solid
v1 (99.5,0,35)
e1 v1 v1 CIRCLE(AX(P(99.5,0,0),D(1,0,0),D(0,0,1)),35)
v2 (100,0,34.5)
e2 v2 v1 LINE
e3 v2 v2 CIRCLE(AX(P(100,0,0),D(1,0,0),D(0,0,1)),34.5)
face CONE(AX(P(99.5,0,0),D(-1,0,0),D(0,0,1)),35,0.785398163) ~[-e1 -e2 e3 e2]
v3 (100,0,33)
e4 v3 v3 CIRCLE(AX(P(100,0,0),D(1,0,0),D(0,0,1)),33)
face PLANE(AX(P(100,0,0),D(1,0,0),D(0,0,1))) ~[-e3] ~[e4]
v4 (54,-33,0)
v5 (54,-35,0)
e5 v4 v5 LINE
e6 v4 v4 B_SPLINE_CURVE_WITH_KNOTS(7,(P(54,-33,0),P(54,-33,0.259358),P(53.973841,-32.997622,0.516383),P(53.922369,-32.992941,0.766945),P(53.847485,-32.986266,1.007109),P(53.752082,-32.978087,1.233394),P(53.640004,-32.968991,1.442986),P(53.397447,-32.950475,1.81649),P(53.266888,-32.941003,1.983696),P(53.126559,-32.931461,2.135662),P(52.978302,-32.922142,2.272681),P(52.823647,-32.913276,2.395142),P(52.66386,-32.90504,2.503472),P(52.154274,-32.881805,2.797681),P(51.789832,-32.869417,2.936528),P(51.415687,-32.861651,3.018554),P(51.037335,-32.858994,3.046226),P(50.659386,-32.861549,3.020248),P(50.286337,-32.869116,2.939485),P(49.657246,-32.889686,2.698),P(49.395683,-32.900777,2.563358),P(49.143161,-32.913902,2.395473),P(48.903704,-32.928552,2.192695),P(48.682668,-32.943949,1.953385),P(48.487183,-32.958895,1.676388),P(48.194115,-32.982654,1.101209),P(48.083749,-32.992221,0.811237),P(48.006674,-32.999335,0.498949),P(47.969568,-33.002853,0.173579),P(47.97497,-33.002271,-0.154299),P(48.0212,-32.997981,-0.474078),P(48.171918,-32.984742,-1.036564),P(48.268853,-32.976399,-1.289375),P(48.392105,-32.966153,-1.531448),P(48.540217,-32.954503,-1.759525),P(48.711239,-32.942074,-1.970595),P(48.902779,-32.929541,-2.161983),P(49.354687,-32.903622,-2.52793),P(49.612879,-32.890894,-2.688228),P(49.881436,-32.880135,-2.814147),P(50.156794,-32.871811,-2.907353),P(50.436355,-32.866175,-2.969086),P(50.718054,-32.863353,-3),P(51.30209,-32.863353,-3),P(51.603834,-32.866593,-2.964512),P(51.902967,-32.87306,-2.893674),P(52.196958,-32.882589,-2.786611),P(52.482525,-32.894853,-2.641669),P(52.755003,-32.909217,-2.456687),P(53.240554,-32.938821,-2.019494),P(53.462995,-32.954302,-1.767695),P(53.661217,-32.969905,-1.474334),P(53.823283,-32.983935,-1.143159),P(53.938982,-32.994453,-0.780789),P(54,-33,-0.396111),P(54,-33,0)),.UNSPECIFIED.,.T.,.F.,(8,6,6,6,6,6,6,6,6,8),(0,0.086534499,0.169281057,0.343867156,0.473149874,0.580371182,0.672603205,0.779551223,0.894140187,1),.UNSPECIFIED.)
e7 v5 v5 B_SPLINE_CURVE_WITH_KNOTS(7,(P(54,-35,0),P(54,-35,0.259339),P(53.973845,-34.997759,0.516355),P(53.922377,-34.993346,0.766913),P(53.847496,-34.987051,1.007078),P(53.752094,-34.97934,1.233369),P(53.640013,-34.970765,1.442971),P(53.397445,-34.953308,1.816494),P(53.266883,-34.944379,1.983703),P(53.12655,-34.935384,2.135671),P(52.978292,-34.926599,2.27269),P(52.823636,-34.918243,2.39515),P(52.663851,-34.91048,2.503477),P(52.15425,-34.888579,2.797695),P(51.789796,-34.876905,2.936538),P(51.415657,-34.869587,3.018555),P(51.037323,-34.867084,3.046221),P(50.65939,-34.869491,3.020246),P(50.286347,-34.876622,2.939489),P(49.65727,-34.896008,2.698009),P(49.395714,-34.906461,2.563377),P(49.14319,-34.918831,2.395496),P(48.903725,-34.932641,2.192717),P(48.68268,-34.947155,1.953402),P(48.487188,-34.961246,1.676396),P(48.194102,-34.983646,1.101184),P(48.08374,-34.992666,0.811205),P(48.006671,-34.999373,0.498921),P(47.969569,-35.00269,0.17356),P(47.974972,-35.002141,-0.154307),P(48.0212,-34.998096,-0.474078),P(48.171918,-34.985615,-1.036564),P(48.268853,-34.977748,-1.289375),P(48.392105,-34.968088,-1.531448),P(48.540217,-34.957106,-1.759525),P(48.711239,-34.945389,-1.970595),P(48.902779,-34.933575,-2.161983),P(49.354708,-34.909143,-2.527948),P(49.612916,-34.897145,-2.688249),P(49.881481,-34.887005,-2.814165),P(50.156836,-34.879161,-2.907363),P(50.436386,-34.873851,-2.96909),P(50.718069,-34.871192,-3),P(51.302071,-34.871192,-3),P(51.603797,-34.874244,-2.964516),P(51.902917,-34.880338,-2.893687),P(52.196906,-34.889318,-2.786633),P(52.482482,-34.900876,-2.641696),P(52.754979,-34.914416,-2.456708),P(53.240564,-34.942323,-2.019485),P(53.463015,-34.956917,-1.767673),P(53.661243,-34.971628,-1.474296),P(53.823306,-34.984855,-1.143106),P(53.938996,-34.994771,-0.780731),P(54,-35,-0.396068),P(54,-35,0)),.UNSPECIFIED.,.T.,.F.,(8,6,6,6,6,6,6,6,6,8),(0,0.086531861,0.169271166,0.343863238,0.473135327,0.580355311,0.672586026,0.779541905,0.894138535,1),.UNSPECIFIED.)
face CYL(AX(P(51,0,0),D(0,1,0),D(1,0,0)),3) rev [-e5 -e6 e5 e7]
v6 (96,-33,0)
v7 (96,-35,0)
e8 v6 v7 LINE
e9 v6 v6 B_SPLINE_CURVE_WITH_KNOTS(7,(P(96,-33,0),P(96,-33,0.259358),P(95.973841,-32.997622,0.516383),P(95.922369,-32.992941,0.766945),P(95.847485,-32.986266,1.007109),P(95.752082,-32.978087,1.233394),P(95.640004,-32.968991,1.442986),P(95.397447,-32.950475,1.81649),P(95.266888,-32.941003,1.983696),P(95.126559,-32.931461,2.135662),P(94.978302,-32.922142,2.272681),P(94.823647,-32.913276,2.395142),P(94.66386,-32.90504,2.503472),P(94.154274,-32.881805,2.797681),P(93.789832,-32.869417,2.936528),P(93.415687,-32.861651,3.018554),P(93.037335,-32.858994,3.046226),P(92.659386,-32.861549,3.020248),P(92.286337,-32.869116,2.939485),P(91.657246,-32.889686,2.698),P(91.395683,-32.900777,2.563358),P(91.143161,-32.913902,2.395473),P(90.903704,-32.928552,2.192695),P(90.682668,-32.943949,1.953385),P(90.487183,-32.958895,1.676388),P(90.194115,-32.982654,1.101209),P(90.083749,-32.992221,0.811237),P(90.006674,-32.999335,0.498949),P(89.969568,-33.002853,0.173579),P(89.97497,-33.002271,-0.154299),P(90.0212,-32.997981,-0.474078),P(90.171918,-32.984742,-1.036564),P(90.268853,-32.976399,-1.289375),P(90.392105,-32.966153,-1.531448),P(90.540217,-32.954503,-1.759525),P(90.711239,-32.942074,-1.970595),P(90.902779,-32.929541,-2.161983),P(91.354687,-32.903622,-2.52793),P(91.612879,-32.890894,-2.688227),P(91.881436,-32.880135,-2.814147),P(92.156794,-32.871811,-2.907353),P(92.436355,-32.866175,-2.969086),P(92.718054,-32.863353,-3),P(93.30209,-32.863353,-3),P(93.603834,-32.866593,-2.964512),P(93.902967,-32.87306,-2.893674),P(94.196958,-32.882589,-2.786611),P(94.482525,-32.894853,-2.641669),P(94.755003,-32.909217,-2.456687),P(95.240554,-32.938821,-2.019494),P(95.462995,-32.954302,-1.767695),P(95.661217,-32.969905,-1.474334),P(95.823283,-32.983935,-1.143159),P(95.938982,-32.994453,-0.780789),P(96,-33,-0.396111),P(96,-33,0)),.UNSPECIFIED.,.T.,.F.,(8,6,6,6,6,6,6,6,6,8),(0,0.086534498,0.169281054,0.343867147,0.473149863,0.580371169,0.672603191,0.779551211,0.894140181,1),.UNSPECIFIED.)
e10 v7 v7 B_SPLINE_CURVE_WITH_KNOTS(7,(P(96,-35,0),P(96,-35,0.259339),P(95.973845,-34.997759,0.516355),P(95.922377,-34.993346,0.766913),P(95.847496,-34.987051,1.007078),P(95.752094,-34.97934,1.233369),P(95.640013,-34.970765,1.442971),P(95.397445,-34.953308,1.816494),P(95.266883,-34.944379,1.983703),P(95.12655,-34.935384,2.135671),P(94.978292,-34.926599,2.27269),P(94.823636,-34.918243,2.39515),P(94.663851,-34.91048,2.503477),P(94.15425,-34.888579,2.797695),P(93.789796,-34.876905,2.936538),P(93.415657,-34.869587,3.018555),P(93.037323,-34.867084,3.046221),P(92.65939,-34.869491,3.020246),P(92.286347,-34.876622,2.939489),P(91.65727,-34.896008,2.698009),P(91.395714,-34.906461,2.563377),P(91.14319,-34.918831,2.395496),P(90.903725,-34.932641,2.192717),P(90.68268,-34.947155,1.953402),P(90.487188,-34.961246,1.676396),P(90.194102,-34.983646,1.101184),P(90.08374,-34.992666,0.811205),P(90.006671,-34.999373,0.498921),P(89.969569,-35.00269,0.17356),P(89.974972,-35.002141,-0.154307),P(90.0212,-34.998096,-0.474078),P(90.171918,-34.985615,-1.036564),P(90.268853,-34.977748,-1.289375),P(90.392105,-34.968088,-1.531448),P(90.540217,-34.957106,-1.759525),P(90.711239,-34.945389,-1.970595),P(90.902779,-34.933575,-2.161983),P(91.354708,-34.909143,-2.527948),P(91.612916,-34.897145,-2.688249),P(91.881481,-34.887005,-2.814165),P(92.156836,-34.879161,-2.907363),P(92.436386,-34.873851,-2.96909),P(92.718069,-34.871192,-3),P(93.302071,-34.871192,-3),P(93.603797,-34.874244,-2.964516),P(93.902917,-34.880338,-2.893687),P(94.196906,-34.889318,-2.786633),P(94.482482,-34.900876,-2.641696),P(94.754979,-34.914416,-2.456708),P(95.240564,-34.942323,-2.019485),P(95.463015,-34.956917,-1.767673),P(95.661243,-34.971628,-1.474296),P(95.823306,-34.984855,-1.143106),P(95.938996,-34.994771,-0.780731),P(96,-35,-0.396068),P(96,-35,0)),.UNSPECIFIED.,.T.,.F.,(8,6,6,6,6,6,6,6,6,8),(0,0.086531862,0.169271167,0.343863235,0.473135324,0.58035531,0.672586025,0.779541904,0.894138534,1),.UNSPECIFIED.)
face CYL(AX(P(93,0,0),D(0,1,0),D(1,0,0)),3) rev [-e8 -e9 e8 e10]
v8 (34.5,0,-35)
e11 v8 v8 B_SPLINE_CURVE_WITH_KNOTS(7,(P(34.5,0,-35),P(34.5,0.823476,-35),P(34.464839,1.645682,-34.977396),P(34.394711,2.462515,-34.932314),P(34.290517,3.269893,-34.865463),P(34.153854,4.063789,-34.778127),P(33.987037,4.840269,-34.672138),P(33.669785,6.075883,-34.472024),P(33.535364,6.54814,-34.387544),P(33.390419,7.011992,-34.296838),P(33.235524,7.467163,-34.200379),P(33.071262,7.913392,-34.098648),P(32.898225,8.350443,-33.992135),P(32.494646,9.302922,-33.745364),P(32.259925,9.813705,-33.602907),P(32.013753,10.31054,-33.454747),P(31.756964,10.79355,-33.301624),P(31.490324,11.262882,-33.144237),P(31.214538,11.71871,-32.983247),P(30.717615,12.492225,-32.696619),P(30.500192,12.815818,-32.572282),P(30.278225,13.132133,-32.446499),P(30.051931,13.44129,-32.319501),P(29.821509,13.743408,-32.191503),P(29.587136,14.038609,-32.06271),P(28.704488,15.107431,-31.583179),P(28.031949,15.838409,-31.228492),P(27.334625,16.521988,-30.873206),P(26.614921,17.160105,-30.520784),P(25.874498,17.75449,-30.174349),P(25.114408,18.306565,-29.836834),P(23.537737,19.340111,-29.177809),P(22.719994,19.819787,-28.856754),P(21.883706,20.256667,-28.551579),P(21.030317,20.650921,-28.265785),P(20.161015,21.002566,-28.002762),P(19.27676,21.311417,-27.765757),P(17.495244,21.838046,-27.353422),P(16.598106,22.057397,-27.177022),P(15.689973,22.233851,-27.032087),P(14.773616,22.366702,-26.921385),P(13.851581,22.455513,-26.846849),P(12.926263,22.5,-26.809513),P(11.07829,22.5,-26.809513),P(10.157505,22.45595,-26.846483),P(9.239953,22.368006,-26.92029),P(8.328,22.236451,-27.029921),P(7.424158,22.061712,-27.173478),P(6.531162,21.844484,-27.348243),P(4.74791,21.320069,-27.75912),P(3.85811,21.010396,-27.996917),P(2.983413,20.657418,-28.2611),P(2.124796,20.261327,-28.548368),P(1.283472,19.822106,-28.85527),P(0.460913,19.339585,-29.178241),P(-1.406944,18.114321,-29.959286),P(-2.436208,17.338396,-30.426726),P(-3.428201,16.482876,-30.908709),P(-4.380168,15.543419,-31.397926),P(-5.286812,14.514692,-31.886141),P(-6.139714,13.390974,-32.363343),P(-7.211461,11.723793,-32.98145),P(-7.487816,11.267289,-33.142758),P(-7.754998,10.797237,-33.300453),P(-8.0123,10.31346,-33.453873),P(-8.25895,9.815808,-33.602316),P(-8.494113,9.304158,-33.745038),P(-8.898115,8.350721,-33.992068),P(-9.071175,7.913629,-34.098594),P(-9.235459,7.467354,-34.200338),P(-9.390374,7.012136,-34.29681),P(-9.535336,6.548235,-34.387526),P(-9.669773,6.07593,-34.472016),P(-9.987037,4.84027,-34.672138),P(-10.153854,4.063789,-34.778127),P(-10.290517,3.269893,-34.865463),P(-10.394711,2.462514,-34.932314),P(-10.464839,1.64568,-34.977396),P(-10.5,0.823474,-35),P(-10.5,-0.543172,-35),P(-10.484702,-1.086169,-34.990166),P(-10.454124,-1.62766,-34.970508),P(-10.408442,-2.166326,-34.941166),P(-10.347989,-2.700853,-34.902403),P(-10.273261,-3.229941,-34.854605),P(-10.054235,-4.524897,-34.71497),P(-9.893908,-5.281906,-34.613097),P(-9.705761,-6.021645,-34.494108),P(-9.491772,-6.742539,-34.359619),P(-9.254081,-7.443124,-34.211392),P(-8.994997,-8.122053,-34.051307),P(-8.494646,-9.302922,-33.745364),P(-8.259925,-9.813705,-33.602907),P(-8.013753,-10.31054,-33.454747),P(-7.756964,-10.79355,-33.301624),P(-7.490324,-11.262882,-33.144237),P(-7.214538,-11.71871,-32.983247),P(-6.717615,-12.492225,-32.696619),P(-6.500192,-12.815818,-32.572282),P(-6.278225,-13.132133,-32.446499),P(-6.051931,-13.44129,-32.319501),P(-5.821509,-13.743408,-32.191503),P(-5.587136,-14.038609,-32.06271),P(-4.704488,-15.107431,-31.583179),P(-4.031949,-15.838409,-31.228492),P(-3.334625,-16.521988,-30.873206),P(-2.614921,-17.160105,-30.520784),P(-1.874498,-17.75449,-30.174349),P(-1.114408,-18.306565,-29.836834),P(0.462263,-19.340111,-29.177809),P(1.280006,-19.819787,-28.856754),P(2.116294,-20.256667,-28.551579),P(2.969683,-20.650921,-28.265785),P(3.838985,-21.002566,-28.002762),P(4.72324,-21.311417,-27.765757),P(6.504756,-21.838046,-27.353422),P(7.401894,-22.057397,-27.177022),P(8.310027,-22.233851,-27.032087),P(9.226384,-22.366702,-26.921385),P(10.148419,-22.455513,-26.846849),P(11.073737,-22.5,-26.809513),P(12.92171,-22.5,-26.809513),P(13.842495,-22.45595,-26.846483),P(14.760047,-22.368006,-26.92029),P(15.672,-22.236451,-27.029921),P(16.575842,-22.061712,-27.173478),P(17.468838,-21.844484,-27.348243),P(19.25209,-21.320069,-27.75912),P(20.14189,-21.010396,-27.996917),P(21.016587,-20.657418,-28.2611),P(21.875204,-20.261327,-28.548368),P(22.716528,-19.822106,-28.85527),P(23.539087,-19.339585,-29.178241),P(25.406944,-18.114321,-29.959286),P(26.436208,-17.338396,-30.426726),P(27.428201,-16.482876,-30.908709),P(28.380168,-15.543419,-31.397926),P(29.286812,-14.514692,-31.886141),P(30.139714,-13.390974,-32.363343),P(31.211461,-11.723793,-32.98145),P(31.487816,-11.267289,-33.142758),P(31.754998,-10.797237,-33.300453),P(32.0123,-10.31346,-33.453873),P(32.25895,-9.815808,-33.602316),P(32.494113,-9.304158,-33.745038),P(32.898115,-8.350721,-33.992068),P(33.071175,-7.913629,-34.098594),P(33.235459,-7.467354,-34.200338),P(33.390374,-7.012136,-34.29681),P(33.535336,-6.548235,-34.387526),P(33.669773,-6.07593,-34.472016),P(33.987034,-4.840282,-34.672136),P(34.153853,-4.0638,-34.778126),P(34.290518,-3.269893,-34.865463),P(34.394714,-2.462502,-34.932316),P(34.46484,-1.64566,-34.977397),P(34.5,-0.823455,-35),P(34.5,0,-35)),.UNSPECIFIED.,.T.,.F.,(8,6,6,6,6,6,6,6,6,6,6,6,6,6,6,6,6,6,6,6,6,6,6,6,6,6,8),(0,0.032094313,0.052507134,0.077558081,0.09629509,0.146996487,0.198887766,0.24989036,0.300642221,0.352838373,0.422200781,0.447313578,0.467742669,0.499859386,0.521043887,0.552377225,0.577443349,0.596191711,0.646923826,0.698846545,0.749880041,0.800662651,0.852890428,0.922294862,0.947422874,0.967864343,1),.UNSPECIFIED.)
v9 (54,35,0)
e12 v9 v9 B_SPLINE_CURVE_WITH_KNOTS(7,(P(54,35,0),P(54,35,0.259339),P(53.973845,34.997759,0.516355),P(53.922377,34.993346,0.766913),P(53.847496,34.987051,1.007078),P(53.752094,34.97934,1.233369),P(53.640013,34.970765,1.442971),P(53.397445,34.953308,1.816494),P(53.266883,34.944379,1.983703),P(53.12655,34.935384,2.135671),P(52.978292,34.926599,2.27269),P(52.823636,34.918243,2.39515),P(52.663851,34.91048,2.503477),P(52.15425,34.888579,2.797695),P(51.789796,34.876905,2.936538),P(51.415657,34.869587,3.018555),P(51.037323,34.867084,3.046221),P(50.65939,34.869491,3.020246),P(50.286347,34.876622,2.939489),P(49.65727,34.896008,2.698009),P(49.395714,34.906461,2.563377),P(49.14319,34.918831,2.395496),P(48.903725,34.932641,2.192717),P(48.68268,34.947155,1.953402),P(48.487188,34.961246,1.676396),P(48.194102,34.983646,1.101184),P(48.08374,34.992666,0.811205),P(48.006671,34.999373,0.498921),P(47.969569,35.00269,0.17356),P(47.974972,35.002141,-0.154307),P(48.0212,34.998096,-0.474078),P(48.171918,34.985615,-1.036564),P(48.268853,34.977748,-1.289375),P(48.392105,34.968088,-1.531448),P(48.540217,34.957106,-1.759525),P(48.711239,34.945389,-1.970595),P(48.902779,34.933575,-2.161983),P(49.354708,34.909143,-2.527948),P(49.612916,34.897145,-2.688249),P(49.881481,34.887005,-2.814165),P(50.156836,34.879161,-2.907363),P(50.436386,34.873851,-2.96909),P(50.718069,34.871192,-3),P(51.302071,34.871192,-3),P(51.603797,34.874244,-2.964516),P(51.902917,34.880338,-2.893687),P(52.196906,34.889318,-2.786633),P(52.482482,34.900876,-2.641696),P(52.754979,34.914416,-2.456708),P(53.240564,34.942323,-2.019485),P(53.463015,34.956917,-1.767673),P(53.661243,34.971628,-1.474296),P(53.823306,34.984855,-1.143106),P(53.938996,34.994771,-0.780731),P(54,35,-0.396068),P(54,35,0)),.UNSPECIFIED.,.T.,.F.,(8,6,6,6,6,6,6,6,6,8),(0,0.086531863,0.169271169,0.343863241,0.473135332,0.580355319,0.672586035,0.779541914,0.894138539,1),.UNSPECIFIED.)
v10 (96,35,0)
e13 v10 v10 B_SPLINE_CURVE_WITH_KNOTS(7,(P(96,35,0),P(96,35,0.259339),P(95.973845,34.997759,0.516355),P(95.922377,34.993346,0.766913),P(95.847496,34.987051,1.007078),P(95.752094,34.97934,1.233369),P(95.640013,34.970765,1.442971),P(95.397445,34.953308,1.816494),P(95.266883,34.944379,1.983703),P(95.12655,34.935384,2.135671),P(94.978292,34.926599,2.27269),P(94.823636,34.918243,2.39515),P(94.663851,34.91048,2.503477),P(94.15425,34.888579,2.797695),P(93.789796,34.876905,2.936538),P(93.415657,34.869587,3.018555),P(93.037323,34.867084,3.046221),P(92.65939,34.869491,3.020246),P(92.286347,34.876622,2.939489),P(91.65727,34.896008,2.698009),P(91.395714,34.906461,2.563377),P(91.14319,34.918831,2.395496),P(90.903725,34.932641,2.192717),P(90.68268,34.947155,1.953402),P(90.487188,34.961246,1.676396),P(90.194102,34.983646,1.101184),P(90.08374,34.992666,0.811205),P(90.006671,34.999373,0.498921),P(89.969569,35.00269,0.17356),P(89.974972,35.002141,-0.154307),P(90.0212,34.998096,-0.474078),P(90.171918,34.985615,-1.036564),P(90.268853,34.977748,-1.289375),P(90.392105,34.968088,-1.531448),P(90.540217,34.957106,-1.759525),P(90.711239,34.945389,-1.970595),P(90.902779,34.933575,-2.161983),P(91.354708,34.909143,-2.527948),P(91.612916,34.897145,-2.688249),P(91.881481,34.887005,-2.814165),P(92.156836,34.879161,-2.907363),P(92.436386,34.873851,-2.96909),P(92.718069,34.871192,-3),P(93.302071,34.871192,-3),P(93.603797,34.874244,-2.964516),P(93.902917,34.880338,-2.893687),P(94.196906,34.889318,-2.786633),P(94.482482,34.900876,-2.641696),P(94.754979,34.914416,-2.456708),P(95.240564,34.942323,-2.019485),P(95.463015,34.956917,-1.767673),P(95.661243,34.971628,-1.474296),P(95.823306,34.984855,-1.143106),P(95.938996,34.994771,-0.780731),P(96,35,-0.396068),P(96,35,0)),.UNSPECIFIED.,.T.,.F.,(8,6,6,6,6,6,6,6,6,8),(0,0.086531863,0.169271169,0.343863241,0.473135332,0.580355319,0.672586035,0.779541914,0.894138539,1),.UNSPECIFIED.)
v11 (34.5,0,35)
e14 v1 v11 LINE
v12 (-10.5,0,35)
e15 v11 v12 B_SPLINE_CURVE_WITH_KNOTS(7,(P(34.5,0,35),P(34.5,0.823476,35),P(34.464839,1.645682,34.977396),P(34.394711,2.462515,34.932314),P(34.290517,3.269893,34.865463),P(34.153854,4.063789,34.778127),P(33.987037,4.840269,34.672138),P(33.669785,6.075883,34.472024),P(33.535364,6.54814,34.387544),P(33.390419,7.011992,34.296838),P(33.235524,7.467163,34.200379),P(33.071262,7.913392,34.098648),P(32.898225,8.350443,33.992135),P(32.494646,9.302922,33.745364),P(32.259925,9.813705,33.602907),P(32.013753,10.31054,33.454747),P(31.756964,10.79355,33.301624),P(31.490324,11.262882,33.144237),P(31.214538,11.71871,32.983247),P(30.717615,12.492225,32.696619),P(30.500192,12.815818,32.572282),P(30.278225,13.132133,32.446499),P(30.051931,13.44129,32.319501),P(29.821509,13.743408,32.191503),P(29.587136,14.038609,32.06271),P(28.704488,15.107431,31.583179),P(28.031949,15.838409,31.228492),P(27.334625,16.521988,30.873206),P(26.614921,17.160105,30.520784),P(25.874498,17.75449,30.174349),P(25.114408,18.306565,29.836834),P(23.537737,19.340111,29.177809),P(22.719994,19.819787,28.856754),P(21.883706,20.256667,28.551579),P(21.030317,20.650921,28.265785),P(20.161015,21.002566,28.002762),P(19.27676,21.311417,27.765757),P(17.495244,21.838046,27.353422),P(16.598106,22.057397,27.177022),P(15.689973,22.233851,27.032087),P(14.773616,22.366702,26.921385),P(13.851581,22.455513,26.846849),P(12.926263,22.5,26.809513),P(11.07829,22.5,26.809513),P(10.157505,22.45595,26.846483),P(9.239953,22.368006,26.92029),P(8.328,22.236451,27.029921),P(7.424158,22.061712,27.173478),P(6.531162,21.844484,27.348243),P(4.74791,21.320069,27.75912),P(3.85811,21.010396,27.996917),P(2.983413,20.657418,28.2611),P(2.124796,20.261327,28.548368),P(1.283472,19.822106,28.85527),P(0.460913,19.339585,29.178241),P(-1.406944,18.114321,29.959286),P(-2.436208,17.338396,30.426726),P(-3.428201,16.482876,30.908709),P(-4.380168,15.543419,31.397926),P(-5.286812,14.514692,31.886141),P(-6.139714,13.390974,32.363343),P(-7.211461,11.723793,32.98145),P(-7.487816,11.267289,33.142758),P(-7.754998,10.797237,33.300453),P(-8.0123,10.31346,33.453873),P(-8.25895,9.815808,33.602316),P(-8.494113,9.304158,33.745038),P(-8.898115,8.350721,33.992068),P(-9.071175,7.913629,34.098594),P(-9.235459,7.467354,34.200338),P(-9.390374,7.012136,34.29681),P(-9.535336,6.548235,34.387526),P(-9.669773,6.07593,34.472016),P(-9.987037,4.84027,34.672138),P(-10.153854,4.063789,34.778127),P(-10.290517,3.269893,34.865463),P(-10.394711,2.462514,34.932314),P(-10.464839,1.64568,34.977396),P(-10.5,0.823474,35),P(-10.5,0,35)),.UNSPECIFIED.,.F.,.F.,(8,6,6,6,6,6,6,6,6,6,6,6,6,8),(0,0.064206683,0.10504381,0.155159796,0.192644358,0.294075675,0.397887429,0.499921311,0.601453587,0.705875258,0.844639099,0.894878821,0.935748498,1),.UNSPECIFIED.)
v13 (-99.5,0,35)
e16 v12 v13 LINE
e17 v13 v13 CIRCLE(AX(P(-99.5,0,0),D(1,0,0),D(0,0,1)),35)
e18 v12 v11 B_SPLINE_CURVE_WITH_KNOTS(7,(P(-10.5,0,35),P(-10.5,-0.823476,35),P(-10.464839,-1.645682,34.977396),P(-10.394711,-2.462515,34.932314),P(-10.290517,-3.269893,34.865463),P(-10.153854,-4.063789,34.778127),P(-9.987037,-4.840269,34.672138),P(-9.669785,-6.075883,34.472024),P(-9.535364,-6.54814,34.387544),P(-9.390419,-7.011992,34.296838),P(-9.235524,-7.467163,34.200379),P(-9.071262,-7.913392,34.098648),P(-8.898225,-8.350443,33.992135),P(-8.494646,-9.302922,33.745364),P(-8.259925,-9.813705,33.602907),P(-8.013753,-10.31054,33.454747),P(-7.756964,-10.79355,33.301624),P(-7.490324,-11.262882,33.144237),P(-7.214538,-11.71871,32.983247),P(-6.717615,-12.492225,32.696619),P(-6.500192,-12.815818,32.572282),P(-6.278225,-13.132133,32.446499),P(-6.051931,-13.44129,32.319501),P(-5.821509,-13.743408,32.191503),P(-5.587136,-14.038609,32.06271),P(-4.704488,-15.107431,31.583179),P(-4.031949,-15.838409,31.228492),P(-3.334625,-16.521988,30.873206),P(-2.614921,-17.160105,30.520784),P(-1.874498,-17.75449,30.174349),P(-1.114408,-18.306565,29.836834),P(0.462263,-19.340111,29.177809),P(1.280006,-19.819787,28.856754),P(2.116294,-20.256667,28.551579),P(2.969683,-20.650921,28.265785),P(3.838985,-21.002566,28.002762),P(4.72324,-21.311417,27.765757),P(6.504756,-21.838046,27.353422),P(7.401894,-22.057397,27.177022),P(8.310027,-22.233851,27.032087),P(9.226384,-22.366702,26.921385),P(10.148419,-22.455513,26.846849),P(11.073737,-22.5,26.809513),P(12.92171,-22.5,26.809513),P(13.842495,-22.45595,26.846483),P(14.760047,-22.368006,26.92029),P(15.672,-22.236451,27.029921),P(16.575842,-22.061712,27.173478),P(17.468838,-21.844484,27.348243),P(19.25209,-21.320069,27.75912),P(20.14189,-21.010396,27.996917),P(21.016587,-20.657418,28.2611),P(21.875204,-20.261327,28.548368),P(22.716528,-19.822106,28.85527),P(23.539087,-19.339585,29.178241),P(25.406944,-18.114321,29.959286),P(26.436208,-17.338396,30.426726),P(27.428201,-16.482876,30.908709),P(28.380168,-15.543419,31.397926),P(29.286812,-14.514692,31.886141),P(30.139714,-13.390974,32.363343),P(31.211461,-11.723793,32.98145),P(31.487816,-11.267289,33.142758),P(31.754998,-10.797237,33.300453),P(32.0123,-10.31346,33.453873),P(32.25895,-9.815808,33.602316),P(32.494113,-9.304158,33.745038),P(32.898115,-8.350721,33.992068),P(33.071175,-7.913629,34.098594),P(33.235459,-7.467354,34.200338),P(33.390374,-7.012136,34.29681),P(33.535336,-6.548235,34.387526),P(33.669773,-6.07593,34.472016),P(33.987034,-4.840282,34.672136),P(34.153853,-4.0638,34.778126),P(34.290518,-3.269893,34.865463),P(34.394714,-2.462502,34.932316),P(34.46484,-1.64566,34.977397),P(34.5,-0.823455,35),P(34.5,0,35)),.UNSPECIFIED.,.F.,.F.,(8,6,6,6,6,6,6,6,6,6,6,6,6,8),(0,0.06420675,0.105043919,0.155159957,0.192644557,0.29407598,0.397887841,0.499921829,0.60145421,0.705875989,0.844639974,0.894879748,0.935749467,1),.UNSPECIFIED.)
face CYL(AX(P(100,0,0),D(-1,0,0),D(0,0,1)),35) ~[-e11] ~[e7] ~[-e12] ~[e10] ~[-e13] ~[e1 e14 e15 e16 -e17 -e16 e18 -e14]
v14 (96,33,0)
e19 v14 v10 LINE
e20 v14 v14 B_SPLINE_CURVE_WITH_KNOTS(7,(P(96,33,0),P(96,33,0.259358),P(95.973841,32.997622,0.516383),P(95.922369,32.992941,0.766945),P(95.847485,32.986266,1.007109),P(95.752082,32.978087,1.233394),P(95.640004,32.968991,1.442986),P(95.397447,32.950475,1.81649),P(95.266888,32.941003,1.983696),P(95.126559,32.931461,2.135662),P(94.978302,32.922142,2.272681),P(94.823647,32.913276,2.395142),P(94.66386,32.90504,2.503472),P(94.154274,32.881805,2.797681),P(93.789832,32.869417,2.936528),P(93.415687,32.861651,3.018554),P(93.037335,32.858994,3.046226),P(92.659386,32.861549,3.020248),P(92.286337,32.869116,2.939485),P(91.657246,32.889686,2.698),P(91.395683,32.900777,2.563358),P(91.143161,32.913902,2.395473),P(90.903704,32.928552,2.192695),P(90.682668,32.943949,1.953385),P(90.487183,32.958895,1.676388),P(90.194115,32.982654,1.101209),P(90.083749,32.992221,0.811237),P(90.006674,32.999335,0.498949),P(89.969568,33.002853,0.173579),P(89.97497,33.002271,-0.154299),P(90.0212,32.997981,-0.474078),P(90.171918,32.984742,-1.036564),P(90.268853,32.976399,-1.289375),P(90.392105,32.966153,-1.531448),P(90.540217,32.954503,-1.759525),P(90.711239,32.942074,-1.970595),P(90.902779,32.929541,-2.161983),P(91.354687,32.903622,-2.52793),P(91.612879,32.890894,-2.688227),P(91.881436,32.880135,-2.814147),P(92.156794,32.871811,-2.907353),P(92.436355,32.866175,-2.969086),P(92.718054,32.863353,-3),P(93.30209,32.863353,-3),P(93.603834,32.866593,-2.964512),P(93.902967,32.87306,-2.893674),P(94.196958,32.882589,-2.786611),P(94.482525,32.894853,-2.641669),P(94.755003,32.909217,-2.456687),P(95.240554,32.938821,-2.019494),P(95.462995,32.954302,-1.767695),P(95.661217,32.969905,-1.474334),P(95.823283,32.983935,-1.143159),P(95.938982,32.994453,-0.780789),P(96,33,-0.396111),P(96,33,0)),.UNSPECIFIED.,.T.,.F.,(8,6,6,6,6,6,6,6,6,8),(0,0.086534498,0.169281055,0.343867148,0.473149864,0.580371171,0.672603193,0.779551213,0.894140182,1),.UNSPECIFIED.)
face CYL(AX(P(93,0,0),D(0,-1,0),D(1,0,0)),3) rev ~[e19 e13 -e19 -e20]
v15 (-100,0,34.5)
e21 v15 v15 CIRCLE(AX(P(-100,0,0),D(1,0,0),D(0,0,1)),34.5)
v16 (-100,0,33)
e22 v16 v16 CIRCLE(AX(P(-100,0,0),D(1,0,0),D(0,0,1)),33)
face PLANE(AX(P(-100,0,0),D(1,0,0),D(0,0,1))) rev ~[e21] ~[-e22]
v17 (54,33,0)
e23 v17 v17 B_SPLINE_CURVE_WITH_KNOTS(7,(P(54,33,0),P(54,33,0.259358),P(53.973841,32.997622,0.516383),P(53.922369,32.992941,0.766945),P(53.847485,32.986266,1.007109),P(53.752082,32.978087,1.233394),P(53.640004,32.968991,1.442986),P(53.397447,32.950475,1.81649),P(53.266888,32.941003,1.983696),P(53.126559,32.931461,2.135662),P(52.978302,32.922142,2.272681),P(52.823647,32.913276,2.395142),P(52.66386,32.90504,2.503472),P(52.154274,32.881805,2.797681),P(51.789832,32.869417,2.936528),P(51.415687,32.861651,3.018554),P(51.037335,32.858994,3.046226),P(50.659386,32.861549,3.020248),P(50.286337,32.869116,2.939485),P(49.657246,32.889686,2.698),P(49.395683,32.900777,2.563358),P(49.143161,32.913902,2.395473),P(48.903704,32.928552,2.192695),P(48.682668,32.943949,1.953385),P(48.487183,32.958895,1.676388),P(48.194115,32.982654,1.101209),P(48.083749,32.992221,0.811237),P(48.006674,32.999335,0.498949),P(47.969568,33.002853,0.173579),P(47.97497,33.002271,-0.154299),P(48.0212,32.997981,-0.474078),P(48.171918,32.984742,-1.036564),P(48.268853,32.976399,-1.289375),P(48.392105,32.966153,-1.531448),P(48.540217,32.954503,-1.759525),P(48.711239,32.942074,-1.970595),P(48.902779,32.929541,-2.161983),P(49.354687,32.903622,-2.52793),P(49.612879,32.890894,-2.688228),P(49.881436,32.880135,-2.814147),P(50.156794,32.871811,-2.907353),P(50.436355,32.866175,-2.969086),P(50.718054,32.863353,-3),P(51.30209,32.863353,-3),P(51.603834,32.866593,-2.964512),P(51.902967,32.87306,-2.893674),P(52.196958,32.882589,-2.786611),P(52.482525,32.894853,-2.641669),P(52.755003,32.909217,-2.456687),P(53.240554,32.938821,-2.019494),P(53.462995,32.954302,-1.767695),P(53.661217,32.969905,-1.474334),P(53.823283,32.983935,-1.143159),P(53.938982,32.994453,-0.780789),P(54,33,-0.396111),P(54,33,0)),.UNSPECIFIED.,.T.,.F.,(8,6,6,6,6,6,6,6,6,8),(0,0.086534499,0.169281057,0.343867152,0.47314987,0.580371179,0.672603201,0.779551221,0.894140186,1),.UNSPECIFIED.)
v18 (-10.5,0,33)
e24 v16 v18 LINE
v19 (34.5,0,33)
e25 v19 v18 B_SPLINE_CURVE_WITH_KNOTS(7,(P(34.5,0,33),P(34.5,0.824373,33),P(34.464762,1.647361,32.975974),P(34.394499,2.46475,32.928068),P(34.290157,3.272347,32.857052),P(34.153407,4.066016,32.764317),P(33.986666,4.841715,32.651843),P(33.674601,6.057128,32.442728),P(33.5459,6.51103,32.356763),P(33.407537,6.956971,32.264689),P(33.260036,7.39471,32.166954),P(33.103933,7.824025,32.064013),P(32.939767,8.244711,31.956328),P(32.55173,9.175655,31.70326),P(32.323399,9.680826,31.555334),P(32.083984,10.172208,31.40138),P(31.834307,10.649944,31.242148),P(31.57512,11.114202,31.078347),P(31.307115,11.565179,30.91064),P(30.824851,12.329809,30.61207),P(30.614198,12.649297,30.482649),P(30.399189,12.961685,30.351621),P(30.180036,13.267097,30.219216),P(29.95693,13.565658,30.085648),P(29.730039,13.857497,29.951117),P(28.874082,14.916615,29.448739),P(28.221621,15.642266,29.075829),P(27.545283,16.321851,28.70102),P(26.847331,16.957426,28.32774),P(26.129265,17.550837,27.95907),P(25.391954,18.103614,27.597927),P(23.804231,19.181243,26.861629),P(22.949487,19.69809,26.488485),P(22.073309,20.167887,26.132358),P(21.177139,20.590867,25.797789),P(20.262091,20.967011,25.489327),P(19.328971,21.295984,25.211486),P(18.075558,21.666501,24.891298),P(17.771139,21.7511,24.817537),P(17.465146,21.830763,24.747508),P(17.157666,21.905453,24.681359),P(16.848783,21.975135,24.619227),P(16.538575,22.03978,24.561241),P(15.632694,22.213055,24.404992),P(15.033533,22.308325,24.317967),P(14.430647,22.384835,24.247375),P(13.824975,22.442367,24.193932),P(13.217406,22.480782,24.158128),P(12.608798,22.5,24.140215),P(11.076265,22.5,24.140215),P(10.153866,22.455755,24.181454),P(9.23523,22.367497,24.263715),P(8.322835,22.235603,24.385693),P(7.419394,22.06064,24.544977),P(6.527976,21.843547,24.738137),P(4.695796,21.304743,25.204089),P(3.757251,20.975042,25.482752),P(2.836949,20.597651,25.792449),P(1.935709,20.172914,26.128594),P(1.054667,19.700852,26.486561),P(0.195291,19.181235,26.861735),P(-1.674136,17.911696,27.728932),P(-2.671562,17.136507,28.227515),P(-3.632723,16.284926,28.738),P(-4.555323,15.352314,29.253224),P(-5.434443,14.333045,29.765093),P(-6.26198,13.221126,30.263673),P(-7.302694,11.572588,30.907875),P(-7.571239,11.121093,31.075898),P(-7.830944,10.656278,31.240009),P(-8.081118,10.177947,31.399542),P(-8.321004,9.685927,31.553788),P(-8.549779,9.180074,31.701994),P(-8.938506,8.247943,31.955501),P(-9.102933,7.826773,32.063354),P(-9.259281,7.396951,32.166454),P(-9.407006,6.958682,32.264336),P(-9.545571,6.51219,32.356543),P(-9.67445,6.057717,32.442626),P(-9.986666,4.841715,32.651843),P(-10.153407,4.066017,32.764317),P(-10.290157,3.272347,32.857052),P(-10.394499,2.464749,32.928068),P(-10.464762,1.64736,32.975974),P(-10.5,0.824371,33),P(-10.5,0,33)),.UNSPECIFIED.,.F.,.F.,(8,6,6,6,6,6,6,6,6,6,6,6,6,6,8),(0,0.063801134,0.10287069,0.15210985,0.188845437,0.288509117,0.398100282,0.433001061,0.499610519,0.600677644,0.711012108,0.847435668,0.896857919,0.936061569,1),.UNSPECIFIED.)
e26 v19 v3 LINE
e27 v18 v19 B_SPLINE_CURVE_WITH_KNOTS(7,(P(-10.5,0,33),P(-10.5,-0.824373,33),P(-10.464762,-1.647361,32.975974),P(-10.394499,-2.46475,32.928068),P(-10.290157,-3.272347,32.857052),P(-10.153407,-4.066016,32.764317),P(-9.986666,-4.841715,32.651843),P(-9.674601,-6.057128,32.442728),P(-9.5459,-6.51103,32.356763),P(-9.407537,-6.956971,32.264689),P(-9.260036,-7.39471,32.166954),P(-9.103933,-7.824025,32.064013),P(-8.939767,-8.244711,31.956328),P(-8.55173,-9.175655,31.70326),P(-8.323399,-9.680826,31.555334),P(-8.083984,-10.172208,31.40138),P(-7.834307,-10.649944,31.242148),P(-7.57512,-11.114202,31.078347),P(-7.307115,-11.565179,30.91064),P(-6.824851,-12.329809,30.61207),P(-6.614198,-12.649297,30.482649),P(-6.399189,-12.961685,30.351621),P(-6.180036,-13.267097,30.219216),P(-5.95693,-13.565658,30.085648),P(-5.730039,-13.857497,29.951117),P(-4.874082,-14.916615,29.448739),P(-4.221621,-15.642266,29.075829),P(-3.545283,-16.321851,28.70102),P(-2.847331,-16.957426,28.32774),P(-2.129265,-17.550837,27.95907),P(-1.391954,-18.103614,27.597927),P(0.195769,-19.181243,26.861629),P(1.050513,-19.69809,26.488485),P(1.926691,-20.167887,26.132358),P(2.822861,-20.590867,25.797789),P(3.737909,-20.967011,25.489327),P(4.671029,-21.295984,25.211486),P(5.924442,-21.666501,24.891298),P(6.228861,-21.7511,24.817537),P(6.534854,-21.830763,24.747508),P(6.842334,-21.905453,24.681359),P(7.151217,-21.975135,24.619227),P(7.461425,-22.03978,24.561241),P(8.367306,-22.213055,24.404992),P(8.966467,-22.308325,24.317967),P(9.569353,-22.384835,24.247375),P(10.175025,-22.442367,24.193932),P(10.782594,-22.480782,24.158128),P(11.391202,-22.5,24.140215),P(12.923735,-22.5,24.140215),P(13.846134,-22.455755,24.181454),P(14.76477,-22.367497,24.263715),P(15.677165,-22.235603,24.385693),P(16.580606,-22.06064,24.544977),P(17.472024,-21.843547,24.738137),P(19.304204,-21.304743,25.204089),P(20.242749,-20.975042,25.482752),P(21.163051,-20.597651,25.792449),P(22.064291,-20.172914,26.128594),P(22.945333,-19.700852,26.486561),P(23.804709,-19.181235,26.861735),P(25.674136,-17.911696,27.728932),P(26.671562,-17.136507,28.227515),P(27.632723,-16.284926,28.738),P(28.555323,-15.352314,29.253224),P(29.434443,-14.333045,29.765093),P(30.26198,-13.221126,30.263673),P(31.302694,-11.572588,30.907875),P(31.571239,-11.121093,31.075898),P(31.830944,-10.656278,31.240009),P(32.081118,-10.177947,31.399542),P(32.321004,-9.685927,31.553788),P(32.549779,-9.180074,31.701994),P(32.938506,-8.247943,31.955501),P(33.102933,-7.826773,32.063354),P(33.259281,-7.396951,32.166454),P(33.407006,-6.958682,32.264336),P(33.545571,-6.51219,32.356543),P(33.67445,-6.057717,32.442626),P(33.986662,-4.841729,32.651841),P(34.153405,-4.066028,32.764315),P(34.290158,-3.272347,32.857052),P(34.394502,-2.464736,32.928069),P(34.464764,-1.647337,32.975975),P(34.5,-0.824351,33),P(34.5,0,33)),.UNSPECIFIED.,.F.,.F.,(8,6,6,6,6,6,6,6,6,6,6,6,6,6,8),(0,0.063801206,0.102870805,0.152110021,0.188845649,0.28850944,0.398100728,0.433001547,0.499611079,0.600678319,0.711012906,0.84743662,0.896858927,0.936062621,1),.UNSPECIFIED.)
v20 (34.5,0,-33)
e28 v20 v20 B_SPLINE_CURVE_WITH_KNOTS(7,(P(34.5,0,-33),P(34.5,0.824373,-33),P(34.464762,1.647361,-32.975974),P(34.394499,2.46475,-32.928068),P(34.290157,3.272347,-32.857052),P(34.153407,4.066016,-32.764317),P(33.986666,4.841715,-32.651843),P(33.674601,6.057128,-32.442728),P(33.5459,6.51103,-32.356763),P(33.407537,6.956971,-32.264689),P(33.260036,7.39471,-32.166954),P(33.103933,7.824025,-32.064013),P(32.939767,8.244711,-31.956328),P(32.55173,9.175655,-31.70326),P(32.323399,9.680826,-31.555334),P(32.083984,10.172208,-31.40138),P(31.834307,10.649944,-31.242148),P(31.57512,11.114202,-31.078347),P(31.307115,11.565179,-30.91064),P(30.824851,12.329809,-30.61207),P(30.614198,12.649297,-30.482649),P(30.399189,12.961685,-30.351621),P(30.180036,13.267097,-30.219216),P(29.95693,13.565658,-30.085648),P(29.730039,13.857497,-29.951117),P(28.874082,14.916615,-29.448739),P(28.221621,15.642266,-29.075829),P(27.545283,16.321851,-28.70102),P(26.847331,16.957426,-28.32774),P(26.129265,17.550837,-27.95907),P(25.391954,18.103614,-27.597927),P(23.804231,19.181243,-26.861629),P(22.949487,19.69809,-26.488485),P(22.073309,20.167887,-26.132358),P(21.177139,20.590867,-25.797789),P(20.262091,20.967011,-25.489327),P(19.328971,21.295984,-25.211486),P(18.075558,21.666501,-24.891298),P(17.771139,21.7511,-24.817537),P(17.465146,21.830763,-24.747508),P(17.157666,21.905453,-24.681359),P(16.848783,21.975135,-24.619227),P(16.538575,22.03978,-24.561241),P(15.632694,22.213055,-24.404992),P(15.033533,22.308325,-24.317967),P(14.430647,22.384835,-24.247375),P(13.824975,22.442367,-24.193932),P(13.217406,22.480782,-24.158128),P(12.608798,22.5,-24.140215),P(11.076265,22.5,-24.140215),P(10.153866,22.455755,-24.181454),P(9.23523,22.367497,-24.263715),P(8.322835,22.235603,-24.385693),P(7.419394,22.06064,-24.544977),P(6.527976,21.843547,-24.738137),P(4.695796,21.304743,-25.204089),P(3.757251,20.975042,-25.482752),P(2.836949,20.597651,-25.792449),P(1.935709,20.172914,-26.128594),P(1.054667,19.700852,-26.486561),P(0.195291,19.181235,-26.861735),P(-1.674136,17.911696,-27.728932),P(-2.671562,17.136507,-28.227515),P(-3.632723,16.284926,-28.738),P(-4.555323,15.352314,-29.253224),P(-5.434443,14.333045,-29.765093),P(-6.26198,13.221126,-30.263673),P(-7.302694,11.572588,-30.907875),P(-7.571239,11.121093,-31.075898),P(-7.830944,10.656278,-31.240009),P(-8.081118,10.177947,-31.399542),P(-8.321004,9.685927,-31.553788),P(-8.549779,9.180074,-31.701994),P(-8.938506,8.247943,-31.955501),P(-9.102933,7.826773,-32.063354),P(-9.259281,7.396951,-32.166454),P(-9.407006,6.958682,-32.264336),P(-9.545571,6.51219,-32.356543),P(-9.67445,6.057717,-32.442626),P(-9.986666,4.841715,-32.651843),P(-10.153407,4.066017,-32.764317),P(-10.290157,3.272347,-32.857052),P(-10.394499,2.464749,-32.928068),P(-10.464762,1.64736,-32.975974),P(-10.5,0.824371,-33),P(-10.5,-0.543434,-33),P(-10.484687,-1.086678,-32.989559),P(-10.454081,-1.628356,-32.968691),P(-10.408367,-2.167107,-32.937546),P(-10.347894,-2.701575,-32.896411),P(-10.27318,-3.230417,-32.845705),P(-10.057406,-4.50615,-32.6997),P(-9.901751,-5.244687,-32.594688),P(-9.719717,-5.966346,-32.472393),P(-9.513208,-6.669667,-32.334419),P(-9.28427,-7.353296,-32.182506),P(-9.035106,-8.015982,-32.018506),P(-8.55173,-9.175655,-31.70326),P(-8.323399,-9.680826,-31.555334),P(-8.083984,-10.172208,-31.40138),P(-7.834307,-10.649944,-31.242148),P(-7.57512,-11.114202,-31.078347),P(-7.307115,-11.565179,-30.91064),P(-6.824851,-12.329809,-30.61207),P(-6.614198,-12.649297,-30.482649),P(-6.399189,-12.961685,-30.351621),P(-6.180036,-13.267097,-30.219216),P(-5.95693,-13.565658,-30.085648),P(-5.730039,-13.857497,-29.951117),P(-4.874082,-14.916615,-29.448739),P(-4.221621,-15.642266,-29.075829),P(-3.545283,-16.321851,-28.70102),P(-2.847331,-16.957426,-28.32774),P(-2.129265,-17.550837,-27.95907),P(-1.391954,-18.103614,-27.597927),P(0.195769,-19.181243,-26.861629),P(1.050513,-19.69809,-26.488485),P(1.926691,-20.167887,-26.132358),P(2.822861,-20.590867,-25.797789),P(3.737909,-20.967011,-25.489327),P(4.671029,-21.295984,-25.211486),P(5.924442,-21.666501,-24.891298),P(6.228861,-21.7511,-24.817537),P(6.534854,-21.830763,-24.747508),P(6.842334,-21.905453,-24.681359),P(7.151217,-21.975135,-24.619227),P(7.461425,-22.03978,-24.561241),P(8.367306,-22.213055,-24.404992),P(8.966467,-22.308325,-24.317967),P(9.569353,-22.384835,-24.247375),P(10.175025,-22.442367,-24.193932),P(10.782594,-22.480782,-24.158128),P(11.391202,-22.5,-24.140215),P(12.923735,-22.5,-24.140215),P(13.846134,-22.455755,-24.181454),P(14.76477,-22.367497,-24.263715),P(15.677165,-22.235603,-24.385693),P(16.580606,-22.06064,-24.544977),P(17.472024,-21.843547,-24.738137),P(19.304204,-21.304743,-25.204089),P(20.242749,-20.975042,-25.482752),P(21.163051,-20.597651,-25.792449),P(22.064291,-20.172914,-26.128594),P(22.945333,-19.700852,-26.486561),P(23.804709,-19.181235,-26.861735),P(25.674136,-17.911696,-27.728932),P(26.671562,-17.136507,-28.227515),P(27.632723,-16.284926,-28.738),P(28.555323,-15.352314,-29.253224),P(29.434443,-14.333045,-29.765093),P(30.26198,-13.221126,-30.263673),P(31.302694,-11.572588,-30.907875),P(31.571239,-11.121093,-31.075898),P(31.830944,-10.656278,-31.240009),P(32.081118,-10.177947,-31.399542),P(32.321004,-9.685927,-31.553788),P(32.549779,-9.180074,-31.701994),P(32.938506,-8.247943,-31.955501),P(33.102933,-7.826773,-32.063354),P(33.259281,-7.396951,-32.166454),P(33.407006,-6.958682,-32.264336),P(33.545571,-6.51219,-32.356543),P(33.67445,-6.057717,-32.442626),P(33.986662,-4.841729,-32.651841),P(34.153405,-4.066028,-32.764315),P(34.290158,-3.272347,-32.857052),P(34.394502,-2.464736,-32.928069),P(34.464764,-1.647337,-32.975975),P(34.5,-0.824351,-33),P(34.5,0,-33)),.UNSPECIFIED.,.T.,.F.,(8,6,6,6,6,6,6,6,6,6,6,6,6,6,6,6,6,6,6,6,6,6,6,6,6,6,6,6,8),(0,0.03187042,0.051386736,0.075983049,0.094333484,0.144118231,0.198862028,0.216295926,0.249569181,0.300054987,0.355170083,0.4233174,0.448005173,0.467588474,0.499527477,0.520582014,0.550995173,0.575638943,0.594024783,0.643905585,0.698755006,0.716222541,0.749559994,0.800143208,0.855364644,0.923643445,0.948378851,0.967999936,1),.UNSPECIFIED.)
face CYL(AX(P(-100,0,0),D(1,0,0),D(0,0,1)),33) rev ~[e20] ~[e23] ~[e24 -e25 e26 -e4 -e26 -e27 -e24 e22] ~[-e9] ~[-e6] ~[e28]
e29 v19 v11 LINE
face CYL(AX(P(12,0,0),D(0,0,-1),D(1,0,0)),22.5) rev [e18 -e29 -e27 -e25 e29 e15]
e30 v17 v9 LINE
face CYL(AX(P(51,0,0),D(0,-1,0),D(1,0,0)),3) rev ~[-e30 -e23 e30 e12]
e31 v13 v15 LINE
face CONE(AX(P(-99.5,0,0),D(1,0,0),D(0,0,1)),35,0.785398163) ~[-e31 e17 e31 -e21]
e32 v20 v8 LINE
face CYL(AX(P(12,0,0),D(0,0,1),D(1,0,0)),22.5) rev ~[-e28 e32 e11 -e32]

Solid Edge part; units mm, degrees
sketch "Sketch1" plane through (0, 0, 0) normal (0, -1, 0) x (1, 0, 0)
  line L0 (-100, 33) -> (100, 33)
  line L1 (100, 33) -> (100, 35)
  line L2 (100, 35) -> (-100, 35)
  line L3 (-100, 35) -> (-100, 33)
  dimension "D1" = 2
  dimension "D2" = 200
revolve "RevolvedProtrusion1" add sketch "Sketch1" angle 360 about axis through (-60, 0, 0) along (1, 0, 0)
chamfer "pipe_chamfers" distance 0.5 angle 45 2 edges at (100, 0, -35) (-100, 0, -35)
sketch "Sketch2" plane through (0, 0, 0) normal (0, 0, 1) x (1, 0, 0)
  circle A0 centre (12, 0) radius 22.5
  dimension "D1" = 12
  dimension "D2" = 45
extrude "pipe_cutout" cut sketch "Sketch2" along normal mid plane 100
sketch "Sketch3" plane through (0, 0, 0) normal (0, -1, 0) x (1, 0, 0)
  circle A0 centre (93, 0) radius 3
  circle A1 centre (51, 0) radius 3
  dimension "D1" = 6
  dimension "D2" = 6
  dimension "D3" = 39
  dimension "D4" = 42
extrude "pin_cutouts_Profile_Plane1" cut sketch "Sketch3" along normal mid plane 100
properties material "Aluminum, 1060"
